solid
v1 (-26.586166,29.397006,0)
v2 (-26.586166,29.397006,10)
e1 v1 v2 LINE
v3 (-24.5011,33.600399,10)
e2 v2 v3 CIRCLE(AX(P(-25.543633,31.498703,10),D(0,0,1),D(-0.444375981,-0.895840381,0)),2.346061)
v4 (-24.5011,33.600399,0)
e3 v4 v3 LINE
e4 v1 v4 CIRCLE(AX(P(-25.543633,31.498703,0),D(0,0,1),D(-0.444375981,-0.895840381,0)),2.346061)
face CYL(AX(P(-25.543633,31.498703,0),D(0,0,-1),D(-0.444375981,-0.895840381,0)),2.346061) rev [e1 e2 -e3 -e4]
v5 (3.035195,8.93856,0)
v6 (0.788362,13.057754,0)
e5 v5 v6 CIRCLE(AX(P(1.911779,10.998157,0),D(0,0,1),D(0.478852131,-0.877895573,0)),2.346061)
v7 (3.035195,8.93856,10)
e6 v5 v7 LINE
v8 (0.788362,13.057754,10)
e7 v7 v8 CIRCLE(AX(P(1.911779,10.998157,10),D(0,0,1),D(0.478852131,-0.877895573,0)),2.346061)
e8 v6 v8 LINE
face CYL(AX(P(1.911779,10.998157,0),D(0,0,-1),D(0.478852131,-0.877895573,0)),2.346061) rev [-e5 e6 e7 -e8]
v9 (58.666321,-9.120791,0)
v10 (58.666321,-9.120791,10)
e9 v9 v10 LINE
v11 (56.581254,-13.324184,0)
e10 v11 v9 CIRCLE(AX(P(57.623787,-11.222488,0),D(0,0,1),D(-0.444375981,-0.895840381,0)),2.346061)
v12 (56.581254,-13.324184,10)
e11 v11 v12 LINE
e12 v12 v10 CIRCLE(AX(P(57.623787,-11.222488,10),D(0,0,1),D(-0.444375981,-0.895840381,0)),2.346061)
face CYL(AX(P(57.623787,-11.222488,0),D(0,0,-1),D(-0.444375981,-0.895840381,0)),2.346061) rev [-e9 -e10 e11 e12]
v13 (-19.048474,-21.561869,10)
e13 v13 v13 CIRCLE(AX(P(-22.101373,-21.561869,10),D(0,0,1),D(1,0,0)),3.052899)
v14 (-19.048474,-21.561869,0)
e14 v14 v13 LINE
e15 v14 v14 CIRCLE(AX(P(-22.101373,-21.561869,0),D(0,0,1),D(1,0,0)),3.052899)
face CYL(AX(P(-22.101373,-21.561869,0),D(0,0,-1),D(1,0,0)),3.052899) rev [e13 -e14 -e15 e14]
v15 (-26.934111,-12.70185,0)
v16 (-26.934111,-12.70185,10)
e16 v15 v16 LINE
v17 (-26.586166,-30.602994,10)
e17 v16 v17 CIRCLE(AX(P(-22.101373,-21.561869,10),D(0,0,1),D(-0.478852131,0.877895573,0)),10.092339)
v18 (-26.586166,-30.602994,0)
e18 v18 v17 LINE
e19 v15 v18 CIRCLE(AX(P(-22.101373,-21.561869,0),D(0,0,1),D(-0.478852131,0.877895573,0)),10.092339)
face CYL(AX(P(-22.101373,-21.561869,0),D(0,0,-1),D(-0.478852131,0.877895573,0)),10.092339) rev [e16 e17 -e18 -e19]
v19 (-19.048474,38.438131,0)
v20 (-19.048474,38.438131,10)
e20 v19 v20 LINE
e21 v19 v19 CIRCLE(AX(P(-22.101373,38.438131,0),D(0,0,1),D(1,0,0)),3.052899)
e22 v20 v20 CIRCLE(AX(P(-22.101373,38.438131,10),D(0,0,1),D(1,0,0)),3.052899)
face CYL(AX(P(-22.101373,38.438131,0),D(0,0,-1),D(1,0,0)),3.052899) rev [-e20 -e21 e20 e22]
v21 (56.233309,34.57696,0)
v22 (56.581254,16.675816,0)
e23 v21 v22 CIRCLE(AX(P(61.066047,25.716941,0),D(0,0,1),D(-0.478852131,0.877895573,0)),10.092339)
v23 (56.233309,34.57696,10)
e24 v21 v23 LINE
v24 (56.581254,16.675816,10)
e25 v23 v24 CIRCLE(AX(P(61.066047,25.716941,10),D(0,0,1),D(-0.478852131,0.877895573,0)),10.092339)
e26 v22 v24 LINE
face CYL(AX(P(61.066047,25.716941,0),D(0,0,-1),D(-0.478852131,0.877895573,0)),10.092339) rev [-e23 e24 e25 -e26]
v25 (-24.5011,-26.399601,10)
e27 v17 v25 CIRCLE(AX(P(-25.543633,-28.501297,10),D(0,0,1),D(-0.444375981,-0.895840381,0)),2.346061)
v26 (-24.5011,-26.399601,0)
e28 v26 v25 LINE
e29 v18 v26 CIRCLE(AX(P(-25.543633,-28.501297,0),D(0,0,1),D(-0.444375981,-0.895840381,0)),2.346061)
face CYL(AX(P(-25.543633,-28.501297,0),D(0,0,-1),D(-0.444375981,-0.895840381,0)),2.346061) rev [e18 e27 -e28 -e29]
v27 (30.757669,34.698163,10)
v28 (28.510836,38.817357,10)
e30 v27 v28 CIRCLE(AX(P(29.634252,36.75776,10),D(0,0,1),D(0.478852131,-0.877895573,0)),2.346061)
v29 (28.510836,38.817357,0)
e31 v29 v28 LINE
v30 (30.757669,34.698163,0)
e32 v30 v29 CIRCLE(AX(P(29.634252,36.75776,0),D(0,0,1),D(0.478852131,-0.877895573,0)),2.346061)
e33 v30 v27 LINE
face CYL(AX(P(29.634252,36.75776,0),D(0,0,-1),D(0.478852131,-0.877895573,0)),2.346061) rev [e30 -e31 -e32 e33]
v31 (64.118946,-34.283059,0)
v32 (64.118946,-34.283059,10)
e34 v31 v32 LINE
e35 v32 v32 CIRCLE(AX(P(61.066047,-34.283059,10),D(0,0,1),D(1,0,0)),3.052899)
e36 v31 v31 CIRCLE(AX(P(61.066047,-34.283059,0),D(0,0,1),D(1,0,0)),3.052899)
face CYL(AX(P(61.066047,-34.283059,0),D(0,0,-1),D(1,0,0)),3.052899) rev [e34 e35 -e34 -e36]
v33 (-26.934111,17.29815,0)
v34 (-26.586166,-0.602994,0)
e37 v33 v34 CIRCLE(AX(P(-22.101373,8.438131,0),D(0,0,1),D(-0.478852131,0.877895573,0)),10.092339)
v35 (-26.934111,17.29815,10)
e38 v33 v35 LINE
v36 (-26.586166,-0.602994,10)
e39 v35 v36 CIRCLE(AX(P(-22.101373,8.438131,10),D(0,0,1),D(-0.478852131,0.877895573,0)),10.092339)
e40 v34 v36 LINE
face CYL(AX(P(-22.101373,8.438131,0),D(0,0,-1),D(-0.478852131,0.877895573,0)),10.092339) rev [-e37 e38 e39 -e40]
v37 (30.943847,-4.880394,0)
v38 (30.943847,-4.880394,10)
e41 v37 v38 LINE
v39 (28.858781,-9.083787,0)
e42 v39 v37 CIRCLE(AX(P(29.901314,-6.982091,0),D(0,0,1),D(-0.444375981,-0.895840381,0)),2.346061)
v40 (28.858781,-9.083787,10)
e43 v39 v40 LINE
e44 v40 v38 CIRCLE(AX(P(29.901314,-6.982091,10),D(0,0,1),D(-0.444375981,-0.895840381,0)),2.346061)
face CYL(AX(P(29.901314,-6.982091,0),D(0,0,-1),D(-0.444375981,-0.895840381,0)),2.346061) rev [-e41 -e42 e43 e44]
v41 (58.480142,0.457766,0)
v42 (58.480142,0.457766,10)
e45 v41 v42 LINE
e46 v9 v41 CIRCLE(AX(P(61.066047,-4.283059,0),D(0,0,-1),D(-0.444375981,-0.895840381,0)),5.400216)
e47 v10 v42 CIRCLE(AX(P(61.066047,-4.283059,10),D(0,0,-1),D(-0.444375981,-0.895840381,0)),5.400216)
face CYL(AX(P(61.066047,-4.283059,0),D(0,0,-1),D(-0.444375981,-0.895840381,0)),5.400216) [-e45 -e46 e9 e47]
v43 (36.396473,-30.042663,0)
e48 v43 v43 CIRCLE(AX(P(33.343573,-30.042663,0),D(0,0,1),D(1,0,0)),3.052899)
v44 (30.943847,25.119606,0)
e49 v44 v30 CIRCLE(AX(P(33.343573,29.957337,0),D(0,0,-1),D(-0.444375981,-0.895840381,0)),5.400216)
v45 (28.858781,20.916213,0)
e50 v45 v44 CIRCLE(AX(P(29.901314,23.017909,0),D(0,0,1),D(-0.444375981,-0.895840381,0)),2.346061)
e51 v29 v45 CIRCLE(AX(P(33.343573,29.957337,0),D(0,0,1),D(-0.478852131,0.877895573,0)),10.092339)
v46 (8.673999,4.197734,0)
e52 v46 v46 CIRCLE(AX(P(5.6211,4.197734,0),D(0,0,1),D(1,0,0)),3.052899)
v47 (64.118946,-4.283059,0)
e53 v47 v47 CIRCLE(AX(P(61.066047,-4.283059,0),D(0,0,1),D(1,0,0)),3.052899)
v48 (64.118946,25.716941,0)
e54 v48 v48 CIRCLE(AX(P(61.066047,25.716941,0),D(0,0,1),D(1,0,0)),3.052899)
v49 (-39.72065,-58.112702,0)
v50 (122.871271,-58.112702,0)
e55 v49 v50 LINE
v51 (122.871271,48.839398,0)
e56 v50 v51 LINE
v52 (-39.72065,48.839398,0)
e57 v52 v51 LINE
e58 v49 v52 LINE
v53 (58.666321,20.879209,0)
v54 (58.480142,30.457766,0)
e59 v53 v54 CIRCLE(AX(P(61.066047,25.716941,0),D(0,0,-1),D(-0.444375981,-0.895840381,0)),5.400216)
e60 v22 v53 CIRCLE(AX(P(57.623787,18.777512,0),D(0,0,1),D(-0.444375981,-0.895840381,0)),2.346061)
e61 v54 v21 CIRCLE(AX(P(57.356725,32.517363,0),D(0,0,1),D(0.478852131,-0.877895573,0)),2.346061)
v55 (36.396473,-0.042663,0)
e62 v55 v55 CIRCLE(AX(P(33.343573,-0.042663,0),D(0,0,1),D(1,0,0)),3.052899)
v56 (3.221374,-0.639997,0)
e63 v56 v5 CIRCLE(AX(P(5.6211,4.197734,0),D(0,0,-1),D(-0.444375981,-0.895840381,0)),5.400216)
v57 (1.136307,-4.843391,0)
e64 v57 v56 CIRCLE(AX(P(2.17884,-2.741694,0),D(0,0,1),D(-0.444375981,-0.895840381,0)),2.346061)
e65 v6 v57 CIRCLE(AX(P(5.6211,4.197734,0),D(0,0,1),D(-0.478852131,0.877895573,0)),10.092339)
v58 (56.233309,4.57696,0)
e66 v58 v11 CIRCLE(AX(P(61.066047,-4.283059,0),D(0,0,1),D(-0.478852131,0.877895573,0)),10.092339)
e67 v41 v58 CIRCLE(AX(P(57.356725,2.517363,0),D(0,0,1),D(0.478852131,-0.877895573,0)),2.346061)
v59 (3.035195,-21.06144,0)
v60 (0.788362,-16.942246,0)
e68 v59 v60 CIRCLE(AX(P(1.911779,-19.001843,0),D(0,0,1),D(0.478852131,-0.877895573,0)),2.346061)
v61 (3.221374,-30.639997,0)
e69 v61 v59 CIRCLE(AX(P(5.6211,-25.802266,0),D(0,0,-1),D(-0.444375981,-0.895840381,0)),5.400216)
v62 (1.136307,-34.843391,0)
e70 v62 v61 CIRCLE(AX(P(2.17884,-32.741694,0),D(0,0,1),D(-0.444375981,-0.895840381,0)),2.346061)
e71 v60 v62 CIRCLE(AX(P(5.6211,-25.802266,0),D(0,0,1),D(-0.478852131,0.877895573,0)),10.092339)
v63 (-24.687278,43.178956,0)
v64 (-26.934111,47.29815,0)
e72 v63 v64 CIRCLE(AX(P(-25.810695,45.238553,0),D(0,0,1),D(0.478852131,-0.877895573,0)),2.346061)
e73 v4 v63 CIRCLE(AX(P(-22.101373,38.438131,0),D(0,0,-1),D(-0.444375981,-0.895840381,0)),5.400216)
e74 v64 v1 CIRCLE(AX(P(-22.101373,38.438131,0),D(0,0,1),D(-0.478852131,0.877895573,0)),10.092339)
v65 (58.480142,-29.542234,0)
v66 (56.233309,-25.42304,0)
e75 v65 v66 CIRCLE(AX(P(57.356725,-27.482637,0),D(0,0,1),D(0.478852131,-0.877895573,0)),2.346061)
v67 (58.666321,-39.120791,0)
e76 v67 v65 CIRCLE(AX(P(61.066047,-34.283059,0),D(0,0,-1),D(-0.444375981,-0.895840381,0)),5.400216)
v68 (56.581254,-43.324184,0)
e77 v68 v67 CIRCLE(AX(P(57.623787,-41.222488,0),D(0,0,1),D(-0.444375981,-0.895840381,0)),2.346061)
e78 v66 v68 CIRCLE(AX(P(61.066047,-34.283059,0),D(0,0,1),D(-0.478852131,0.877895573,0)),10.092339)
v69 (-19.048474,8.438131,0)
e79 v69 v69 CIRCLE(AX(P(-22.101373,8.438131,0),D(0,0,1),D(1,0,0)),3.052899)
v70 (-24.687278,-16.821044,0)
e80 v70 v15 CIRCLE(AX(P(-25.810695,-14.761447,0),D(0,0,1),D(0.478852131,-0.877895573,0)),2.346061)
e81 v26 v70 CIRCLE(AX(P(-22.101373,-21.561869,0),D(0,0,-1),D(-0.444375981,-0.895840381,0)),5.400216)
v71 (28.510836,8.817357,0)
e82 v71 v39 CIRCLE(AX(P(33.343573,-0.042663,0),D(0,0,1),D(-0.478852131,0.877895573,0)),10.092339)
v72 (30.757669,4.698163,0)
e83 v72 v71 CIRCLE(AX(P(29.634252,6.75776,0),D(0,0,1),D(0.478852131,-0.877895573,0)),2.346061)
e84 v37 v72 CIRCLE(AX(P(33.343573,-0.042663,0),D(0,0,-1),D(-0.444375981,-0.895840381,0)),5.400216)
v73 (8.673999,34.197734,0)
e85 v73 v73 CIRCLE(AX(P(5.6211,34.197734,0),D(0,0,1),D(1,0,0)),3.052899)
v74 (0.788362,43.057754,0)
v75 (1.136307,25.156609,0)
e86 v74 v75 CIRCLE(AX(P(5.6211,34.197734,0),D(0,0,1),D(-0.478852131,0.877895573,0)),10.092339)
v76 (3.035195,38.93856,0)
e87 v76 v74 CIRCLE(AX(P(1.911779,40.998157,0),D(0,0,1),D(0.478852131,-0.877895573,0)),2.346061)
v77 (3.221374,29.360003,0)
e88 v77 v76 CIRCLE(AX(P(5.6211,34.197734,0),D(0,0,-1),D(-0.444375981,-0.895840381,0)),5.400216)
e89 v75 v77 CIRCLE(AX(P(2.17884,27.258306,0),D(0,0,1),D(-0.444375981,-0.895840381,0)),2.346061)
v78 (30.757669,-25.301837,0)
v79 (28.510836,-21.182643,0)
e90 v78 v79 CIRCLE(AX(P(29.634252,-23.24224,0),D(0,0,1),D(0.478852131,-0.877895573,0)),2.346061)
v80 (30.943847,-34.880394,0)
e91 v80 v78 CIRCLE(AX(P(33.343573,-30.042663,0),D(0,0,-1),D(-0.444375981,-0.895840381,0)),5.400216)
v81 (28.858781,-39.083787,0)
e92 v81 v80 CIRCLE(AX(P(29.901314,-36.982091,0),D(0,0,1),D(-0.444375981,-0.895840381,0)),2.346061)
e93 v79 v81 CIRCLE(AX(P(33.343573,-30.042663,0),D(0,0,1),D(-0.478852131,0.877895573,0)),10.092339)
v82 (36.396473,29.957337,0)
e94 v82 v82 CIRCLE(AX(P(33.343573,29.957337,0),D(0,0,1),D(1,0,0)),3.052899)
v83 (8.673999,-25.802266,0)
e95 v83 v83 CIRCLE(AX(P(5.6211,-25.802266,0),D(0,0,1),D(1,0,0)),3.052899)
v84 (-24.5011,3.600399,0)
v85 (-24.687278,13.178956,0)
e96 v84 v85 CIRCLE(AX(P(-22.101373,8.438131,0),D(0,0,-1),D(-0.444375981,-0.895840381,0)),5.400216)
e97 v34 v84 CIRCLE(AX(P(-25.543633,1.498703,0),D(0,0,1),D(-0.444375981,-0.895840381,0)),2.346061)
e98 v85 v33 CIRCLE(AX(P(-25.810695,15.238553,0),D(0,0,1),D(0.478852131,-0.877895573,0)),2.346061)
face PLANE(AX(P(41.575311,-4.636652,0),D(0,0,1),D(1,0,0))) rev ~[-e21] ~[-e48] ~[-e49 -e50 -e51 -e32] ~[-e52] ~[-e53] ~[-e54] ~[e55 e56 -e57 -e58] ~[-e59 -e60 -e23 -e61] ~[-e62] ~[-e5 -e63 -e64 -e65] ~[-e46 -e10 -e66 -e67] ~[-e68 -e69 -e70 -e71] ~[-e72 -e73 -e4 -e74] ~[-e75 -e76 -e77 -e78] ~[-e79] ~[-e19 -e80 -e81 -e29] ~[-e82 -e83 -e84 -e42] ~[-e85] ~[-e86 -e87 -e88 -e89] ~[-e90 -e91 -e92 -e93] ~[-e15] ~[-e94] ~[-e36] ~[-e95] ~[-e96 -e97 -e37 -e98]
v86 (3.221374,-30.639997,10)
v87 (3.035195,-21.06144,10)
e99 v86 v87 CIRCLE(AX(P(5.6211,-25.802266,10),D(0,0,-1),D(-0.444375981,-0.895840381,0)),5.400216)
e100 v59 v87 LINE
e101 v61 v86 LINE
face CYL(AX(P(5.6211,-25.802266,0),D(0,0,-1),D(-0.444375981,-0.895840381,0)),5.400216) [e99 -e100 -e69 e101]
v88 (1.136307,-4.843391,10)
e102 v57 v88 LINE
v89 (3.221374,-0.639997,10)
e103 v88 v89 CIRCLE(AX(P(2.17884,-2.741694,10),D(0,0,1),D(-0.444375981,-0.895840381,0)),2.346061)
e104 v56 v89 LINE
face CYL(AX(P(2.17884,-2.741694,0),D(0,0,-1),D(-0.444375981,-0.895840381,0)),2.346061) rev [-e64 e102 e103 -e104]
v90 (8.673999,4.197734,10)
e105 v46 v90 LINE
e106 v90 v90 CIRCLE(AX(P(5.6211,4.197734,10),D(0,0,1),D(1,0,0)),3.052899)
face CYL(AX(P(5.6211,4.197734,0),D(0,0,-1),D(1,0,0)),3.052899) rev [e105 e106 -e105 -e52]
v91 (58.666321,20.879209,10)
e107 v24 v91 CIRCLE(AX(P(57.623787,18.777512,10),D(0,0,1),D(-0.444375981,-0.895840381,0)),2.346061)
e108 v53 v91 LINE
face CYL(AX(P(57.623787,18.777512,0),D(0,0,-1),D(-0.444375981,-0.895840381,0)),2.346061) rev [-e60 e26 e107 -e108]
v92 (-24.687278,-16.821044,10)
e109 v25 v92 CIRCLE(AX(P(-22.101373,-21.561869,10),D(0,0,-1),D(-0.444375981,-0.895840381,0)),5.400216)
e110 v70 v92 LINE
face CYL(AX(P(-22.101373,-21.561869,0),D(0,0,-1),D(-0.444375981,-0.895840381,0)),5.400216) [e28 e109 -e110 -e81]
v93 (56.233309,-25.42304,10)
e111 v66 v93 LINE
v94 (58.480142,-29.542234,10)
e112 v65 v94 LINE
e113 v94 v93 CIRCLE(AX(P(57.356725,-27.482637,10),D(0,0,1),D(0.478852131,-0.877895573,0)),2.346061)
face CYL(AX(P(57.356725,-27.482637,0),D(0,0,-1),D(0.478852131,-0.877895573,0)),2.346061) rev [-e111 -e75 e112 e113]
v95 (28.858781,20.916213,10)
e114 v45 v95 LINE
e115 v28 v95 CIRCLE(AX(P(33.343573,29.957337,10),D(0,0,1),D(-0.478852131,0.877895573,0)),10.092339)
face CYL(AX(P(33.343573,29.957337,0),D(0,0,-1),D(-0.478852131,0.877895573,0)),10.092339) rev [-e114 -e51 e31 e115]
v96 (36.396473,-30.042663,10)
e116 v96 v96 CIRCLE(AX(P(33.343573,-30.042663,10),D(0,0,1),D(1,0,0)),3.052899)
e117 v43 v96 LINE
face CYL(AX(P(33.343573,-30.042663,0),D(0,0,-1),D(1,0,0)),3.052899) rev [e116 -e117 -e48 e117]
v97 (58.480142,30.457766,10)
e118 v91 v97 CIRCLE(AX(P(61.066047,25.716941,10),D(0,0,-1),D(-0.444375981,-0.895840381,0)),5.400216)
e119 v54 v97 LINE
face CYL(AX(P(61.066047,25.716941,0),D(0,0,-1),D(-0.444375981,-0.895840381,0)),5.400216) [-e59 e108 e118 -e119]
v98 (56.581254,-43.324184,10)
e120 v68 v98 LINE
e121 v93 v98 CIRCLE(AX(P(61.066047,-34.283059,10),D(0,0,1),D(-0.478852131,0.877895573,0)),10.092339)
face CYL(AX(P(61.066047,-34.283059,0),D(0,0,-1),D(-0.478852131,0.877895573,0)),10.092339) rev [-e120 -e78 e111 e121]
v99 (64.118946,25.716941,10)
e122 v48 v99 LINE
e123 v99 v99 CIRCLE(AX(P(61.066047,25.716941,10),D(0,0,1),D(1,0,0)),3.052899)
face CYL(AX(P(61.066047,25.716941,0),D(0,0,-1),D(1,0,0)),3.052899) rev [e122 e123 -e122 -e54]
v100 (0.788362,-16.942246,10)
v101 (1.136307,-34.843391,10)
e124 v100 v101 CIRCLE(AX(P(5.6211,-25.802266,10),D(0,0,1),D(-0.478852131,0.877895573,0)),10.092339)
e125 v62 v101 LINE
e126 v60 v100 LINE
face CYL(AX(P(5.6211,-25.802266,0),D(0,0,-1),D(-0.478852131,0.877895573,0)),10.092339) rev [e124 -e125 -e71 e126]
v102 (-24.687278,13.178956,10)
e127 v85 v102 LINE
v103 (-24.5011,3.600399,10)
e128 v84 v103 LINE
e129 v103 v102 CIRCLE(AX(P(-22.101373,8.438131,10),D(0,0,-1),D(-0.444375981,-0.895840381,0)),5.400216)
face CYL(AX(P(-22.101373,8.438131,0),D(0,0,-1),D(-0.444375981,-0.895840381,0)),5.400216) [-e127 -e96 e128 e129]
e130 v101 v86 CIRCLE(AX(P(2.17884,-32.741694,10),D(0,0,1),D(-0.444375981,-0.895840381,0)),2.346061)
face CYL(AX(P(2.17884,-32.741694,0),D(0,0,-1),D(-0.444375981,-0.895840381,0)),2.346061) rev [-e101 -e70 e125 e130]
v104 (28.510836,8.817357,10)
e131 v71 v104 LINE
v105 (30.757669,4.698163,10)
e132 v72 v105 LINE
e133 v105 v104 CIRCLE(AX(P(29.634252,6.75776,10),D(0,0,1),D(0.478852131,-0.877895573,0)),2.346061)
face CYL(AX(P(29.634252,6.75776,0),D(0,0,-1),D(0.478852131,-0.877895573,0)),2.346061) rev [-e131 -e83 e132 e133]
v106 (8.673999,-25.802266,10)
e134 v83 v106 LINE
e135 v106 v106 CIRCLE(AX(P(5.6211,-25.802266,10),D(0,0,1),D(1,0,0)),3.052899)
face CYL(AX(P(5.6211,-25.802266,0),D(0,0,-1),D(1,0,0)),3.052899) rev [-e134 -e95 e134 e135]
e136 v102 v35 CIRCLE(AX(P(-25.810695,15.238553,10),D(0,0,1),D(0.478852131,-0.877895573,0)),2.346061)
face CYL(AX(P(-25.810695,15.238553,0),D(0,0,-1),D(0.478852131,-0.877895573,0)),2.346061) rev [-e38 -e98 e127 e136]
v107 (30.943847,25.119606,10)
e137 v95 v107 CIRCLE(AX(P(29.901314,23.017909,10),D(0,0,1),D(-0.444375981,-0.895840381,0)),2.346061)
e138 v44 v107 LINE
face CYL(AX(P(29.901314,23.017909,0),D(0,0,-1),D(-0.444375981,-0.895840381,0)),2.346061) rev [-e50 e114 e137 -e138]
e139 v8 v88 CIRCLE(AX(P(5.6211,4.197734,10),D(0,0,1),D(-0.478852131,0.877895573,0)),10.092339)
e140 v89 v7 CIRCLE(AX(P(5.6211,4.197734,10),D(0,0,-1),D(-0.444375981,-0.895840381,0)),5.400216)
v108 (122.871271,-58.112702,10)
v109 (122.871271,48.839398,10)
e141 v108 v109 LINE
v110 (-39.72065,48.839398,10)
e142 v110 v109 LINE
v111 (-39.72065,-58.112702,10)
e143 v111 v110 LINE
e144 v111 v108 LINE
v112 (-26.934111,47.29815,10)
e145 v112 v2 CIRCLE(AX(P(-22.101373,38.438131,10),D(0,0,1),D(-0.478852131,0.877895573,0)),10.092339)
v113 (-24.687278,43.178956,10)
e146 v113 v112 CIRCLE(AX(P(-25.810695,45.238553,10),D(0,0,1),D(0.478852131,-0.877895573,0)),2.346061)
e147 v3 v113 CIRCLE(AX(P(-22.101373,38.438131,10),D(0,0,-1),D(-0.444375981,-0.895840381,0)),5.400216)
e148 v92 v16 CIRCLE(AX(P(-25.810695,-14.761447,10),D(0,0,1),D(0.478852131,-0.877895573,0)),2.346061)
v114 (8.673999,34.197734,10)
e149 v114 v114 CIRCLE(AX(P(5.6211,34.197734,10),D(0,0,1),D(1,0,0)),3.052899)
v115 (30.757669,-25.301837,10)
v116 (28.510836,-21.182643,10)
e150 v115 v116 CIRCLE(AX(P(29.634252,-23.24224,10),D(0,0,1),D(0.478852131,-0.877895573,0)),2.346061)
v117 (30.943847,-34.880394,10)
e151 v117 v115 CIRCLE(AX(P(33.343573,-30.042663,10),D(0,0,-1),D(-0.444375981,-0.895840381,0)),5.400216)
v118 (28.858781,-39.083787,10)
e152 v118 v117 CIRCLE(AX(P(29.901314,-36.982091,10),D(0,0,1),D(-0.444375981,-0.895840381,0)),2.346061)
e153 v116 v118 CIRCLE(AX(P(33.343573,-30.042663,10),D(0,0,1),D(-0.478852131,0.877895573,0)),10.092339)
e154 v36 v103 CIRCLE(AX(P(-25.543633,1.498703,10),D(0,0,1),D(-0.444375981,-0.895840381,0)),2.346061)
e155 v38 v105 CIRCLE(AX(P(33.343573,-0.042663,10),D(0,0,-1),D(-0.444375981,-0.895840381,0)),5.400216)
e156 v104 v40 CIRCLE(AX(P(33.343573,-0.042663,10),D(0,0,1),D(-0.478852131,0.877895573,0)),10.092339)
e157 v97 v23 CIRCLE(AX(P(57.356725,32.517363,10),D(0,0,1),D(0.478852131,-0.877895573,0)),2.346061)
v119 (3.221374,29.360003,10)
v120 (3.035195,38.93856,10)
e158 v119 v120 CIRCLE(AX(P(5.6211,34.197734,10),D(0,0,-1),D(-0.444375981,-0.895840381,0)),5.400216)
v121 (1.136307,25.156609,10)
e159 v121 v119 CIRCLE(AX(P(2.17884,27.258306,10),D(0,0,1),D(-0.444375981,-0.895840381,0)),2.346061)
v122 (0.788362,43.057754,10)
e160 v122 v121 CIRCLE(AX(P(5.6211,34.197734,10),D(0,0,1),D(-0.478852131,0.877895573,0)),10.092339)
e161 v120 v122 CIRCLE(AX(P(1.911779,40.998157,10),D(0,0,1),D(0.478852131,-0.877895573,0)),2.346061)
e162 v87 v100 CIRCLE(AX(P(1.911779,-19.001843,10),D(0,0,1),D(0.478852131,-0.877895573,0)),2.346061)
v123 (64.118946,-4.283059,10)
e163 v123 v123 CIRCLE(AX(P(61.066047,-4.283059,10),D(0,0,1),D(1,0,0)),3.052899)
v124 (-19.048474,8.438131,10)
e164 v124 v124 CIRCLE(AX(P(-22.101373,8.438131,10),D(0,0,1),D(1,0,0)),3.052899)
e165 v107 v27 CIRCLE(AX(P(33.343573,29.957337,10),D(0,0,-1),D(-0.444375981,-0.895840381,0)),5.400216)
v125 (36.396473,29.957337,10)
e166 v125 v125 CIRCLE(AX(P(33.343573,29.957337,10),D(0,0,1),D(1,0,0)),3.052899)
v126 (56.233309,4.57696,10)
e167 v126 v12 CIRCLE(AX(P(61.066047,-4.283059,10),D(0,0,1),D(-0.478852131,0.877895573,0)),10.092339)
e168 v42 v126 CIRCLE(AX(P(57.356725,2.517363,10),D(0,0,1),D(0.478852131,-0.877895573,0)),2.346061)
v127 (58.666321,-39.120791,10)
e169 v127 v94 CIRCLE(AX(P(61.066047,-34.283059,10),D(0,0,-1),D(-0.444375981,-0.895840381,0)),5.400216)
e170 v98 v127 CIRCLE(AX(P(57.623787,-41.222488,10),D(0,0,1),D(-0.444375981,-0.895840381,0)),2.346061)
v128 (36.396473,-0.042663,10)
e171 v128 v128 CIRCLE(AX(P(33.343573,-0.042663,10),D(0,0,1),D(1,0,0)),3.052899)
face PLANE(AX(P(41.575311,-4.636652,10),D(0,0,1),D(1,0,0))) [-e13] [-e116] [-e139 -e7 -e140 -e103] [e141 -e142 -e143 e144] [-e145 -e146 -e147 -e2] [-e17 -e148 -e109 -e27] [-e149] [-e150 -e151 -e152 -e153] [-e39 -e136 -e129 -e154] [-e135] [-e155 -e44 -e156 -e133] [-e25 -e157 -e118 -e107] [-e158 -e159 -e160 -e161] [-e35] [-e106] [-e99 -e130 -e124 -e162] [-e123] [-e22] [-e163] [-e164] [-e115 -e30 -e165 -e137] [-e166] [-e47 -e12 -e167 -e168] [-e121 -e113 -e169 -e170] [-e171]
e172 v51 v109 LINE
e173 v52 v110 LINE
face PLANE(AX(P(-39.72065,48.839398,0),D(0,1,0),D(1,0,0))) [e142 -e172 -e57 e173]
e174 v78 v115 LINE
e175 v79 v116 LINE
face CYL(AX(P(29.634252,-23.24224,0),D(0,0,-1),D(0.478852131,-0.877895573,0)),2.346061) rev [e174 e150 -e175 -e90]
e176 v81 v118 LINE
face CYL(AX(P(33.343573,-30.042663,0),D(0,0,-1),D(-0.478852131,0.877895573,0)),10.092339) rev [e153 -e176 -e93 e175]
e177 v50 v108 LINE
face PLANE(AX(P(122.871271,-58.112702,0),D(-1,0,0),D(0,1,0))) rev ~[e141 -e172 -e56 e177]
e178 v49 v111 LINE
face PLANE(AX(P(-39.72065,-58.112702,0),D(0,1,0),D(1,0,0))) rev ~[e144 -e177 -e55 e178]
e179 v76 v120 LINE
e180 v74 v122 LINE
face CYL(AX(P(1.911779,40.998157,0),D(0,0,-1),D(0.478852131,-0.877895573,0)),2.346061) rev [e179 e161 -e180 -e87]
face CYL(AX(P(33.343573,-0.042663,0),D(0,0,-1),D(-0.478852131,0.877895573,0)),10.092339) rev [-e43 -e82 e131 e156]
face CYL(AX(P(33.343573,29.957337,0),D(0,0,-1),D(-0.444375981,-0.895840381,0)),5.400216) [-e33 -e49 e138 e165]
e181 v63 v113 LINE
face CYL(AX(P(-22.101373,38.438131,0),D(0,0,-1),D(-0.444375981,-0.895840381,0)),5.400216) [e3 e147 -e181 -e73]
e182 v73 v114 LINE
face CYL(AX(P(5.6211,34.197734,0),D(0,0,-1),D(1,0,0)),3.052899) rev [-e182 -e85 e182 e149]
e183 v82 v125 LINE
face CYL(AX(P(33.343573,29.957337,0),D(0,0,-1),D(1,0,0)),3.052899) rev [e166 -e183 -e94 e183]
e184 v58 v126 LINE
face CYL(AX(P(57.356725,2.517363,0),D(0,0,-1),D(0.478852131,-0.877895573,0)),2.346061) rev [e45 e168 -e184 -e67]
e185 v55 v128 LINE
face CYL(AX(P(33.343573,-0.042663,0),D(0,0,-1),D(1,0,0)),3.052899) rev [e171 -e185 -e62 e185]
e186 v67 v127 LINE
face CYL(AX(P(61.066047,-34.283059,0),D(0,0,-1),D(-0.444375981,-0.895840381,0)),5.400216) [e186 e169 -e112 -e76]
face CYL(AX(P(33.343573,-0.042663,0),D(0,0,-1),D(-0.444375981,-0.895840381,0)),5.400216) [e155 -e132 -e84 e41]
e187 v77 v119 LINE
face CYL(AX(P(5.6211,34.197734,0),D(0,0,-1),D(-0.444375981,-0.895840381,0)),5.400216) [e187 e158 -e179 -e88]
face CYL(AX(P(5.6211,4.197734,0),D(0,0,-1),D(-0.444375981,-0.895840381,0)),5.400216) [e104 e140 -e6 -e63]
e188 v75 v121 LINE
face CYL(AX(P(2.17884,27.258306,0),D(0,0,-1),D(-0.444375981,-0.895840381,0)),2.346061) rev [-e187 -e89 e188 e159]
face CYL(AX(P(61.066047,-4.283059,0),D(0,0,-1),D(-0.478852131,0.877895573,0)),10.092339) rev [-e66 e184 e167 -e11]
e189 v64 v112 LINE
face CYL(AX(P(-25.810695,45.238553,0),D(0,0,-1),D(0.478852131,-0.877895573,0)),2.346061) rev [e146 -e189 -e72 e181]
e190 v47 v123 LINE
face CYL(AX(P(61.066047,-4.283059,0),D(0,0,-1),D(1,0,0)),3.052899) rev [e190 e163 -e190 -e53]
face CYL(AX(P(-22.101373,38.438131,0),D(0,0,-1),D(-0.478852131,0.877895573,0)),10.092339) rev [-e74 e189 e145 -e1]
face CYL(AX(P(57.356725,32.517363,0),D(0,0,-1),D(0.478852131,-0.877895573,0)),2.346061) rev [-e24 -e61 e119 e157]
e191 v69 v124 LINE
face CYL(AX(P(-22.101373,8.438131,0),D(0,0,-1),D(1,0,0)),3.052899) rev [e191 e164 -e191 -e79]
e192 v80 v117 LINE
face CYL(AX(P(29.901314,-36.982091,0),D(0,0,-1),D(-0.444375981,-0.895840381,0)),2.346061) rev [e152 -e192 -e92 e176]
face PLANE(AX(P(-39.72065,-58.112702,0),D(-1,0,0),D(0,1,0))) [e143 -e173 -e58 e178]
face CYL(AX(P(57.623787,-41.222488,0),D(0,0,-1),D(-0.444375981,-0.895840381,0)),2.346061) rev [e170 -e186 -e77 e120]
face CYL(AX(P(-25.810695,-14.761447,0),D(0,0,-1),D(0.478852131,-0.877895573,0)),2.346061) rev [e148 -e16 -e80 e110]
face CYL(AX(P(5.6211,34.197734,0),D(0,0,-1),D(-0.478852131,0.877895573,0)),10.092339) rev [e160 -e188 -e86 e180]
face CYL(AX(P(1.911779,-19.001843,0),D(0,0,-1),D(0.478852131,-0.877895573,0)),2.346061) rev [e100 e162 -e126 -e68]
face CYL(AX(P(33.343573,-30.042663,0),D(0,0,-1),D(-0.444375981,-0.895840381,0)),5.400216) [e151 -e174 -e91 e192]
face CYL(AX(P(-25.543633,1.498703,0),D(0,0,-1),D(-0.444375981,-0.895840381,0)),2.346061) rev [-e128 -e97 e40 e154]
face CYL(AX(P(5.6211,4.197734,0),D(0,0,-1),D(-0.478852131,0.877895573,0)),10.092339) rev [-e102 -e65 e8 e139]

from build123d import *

# Parameters (mm, degrees)
F_1_FR_W        = 162.591921451
F_1_FR_H        = 106.952100423
F_1_FR_R        = 3.052899236
EXTRUDE_1_DEPTH = 10


with BuildPart() as part:
    # Эскиз1_fr → Бобышка-Вытянуть1 (new body)
    with BuildSketch(Plane.XY):
        with Locations((41.575310714, -4.636651753)):
            Rectangle(F_1_FR_W, F_1_FR_H)
        with Locations((-22.101373353, 38.438130748)):
            Circle(F_1_FR_R, mode=Mode.SUBTRACT)
        with Locations((5.621100062, 34.197733999)):
            Circle(F_1_FR_R, mode=Mode.SUBTRACT)
        with Locations((33.343573478, 29.95733725)):
            Circle(F_1_FR_R, mode=Mode.SUBTRACT)
        with Locations((61.066046893, 25.716940501)):
            Circle(F_1_FR_R, mode=Mode.SUBTRACT)
        with Locations((5.621100062, 4.197733999)):
            Circle(F_1_FR_R, mode=Mode.SUBTRACT)
        with Locations((33.343573478, -0.04266275)):
            Circle(F_1_FR_R, mode=Mode.SUBTRACT)
        with Locations((61.066046893, -4.283059499)):
            Circle(F_1_FR_R, mode=Mode.SUBTRACT)
        with Locations((5.621100062, -25.802266001)):
            Circle(F_1_FR_R, mode=Mode.SUBTRACT)
        with Locations((33.343573478, -30.04266275)):
            Circle(F_1_FR_R, mode=Mode.SUBTRACT)
        with Locations((61.066046893, -34.283059499)):
            Circle(F_1_FR_R, mode=Mode.SUBTRACT)
        with Locations((-22.101373353, 8.438130748)):
            Circle(F_1_FR_R, mode=Mode.SUBTRACT)
        with Locations((-22.101373353, -21.561869252)):
            Circle(F_1_FR_R, mode=Mode.SUBTRACT)
        with BuildLine():
            ThreePointArc((-26.934111294, 47.298150306), (-32.191806267, 38.242002753), (-26.586166309, 29.39700611))
            ThreePointArc((-26.586166309, 29.39700611), (-23.441936327, 30.456169349), (-24.501099566, 33.60039933))
            ThreePointArc((-24.501099566, 33.60039933), (-27.500569391, 38.33318644), (-24.687278216, 43.178956331))
            ThreePointArc((-24.687278216, 43.178956331), (-23.751097767, 46.361969857), (-26.934111294, 47.298150306))
        make_face(mode=Mode.SUBTRACT)
        with BuildLine():
            ThreePointArc((0.788362122, 43.057753557), (-4.469332851, 34.001606003), (1.136307107, 25.156609361))
            ThreePointArc((1.136307107, 25.156609361), (4.280537088, 26.2157726), (3.22137385, 29.360002581))
            ThreePointArc((3.22137385, 29.360002581), (0.221904024, 34.092789691), (3.035195199, 38.938559582))
            ThreePointArc((3.035195199, 38.938559582), (3.971375648, 42.121573108), (0.788362122, 43.057753557))
        make_face(mode=Mode.SUBTRACT)
        with BuildLine():
            ThreePointArc((28.510835537, 38.817356808), (23.253140564, 29.761209254), (28.858780522, 20.916212612))
            ThreePointArc((28.858780522, 20.916212612), (32.003010504, 21.975375851), (30.943847265, 25.119605832))
            ThreePointArc((30.943847265, 25.119605832), (27.94437744, 29.852392942), (30.757668615, 34.698162832))
            ThreePointArc((30.757668615, 34.698162832), (31.693849064, 37.881176359), (28.510835537, 38.817356808))
        make_face(mode=Mode.SUBTRACT)
        with BuildLine():
            ThreePointArc((56.233308952, 34.576960059), (50.97561398, 25.520812505), (56.581253938, 16.675815863))
            ThreePointArc((56.581253938, 16.675815863), (59.725483919, 17.734979101), (58.666320681, 20.879209083))
            ThreePointArc((58.666320681, 20.879209083), (55.666850855, 25.611996193), (58.48014203, 30.457766083))
            ThreePointArc((58.48014203, 30.457766083), (59.416322479, 33.64077961), (56.233308952, 34.576960059))
        make_face(mode=Mode.SUBTRACT)
        with BuildLine():
            ThreePointArc((0.788362122, 13.057753557), (-4.469332851, 4.001606003), (1.136307107, -4.843390639))
            ThreePointArc((1.136307107, -4.843390639), (4.280537088, -3.7842274), (3.22137385, -0.639997419))
            ThreePointArc((3.22137385, -0.639997419), (0.221904024, 4.092789691), (3.035195199, 8.938559582))
            ThreePointArc((3.035195199, 8.938559582), (3.971375648, 12.121573108), (0.788362122, 13.057753557))
        make_face(mode=Mode.SUBTRACT)
        with BuildLine():
            ThreePointArc((28.510835537, 8.817356808), (23.253140564, -0.238790746), (28.858780522, -9.083787388))
            ThreePointArc((28.858780522, -9.083787388), (32.003010504, -8.024624149), (30.943847265, -4.880394168))
            ThreePointArc((30.943847265, -4.880394168), (27.94437744, -0.147607058), (30.757668615, 4.698162832))
            ThreePointArc((30.757668615, 4.698162832), (31.693849064, 7.881176359), (28.510835537, 8.817356808))
        make_face(mode=Mode.SUBTRACT)
        with BuildLine():
            ThreePointArc((56.233308952, 4.576960059), (50.97561398, -4.479187495), (56.581253938, -13.324184137))
            ThreePointArc((56.581253938, -13.324184137), (59.725483919, -12.265020899), (58.666320681, -9.120790917))
            ThreePointArc((58.666320681, -9.120790917), (55.666850855, -4.388003807), (58.48014203, 0.457766083))
            ThreePointArc((58.48014203, 0.457766083), (59.416322479, 3.64077961), (56.233308952, 4.576960059))
        make_face(mode=Mode.SUBTRACT)
        with BuildLine():
            ThreePointArc((0.788362122, -16.942246443), (-4.469332851, -25.998393997), (1.136307107, -34.843390639))
            ThreePointArc((1.136307107, -34.843390639), (4.280537088, -33.7842274), (3.22137385, -30.639997419))
            ThreePointArc((3.22137385, -30.639997419), (0.221904024, -25.907210309), (3.035195199, -21.061440418))
            ThreePointArc((3.035195199, -21.061440418), (3.971375648, -17.878426892), (0.788362122, -16.942246443))
        make_face(mode=Mode.SUBTRACT)
        with BuildLine():
            ThreePointArc((28.510835537, -21.182643192), (23.253140564, -30.238790746), (28.858780522, -39.083787388))
            ThreePointArc((28.858780522, -39.083787388), (32.003010504, -38.024624149), (30.943847265, -34.880394168))
            ThreePointArc((30.943847265, -34.880394168), (27.94437744, -30.147607058), (30.757668615, -25.301837168))
            ThreePointArc((30.757668615, -25.301837168), (31.693849064, -22.118823641), (28.510835537, -21.182643192))
        make_face(mode=Mode.SUBTRACT)
        with BuildLine():
            ThreePointArc((56.233308952, -25.423039941), (50.97561398, -34.479187495), (56.581253938, -43.324184137))
            ThreePointArc((56.581253938, -43.324184137), (59.725483919, -42.265020899), (58.666320681, -39.120790917))
            ThreePointArc((58.666320681, -39.120790917), (55.666850855, -34.388003807), (58.48014203, -29.542233917))
            ThreePointArc((58.48014203, -29.542233917), (59.416322479, -26.35922039), (56.233308952, -25.423039941))
        make_face(mode=Mode.SUBTRACT)
        with BuildLine():
            ThreePointArc((-26.934111294, 17.298150306), (-32.191806267, 8.242002753), (-26.586166309, -0.60299389))
            ThreePointArc((-26.586166309, -0.60299389), (-23.441936327, 0.456169349), (-24.501099566, 3.60039933))
            ThreePointArc((-24.501099566, 3.60039933), (-27.500569391, 8.33318644), (-24.687278216, 13.178956331))
            ThreePointArc((-24.687278216, 13.178956331), (-23.751097767, 16.361969857), (-26.934111294, 17.298150306))
        make_face(mode=Mode.SUBTRACT)
        with BuildLine():
            ThreePointArc((-26.934111294, -12.701849694), (-32.191806267, -21.757997247), (-26.586166309, -30.60299389))
            ThreePointArc((-26.586166309, -30.60299389), (-23.441936327, -29.543830651), (-24.501099566, -26.39960067))
            ThreePointArc((-24.501099566, -26.39960067), (-27.500569391, -21.66681356), (-24.687278216, -16.821043669))
            ThreePointArc((-24.687278216, -16.821043669), (-23.751097767, -13.638030143), (-26.934111294, -12.701849694))
        make_face(mode=Mode.SUBTRACT)
    extrude(amount=EXTRUDE_1_DEPTH)


solid = part.part
